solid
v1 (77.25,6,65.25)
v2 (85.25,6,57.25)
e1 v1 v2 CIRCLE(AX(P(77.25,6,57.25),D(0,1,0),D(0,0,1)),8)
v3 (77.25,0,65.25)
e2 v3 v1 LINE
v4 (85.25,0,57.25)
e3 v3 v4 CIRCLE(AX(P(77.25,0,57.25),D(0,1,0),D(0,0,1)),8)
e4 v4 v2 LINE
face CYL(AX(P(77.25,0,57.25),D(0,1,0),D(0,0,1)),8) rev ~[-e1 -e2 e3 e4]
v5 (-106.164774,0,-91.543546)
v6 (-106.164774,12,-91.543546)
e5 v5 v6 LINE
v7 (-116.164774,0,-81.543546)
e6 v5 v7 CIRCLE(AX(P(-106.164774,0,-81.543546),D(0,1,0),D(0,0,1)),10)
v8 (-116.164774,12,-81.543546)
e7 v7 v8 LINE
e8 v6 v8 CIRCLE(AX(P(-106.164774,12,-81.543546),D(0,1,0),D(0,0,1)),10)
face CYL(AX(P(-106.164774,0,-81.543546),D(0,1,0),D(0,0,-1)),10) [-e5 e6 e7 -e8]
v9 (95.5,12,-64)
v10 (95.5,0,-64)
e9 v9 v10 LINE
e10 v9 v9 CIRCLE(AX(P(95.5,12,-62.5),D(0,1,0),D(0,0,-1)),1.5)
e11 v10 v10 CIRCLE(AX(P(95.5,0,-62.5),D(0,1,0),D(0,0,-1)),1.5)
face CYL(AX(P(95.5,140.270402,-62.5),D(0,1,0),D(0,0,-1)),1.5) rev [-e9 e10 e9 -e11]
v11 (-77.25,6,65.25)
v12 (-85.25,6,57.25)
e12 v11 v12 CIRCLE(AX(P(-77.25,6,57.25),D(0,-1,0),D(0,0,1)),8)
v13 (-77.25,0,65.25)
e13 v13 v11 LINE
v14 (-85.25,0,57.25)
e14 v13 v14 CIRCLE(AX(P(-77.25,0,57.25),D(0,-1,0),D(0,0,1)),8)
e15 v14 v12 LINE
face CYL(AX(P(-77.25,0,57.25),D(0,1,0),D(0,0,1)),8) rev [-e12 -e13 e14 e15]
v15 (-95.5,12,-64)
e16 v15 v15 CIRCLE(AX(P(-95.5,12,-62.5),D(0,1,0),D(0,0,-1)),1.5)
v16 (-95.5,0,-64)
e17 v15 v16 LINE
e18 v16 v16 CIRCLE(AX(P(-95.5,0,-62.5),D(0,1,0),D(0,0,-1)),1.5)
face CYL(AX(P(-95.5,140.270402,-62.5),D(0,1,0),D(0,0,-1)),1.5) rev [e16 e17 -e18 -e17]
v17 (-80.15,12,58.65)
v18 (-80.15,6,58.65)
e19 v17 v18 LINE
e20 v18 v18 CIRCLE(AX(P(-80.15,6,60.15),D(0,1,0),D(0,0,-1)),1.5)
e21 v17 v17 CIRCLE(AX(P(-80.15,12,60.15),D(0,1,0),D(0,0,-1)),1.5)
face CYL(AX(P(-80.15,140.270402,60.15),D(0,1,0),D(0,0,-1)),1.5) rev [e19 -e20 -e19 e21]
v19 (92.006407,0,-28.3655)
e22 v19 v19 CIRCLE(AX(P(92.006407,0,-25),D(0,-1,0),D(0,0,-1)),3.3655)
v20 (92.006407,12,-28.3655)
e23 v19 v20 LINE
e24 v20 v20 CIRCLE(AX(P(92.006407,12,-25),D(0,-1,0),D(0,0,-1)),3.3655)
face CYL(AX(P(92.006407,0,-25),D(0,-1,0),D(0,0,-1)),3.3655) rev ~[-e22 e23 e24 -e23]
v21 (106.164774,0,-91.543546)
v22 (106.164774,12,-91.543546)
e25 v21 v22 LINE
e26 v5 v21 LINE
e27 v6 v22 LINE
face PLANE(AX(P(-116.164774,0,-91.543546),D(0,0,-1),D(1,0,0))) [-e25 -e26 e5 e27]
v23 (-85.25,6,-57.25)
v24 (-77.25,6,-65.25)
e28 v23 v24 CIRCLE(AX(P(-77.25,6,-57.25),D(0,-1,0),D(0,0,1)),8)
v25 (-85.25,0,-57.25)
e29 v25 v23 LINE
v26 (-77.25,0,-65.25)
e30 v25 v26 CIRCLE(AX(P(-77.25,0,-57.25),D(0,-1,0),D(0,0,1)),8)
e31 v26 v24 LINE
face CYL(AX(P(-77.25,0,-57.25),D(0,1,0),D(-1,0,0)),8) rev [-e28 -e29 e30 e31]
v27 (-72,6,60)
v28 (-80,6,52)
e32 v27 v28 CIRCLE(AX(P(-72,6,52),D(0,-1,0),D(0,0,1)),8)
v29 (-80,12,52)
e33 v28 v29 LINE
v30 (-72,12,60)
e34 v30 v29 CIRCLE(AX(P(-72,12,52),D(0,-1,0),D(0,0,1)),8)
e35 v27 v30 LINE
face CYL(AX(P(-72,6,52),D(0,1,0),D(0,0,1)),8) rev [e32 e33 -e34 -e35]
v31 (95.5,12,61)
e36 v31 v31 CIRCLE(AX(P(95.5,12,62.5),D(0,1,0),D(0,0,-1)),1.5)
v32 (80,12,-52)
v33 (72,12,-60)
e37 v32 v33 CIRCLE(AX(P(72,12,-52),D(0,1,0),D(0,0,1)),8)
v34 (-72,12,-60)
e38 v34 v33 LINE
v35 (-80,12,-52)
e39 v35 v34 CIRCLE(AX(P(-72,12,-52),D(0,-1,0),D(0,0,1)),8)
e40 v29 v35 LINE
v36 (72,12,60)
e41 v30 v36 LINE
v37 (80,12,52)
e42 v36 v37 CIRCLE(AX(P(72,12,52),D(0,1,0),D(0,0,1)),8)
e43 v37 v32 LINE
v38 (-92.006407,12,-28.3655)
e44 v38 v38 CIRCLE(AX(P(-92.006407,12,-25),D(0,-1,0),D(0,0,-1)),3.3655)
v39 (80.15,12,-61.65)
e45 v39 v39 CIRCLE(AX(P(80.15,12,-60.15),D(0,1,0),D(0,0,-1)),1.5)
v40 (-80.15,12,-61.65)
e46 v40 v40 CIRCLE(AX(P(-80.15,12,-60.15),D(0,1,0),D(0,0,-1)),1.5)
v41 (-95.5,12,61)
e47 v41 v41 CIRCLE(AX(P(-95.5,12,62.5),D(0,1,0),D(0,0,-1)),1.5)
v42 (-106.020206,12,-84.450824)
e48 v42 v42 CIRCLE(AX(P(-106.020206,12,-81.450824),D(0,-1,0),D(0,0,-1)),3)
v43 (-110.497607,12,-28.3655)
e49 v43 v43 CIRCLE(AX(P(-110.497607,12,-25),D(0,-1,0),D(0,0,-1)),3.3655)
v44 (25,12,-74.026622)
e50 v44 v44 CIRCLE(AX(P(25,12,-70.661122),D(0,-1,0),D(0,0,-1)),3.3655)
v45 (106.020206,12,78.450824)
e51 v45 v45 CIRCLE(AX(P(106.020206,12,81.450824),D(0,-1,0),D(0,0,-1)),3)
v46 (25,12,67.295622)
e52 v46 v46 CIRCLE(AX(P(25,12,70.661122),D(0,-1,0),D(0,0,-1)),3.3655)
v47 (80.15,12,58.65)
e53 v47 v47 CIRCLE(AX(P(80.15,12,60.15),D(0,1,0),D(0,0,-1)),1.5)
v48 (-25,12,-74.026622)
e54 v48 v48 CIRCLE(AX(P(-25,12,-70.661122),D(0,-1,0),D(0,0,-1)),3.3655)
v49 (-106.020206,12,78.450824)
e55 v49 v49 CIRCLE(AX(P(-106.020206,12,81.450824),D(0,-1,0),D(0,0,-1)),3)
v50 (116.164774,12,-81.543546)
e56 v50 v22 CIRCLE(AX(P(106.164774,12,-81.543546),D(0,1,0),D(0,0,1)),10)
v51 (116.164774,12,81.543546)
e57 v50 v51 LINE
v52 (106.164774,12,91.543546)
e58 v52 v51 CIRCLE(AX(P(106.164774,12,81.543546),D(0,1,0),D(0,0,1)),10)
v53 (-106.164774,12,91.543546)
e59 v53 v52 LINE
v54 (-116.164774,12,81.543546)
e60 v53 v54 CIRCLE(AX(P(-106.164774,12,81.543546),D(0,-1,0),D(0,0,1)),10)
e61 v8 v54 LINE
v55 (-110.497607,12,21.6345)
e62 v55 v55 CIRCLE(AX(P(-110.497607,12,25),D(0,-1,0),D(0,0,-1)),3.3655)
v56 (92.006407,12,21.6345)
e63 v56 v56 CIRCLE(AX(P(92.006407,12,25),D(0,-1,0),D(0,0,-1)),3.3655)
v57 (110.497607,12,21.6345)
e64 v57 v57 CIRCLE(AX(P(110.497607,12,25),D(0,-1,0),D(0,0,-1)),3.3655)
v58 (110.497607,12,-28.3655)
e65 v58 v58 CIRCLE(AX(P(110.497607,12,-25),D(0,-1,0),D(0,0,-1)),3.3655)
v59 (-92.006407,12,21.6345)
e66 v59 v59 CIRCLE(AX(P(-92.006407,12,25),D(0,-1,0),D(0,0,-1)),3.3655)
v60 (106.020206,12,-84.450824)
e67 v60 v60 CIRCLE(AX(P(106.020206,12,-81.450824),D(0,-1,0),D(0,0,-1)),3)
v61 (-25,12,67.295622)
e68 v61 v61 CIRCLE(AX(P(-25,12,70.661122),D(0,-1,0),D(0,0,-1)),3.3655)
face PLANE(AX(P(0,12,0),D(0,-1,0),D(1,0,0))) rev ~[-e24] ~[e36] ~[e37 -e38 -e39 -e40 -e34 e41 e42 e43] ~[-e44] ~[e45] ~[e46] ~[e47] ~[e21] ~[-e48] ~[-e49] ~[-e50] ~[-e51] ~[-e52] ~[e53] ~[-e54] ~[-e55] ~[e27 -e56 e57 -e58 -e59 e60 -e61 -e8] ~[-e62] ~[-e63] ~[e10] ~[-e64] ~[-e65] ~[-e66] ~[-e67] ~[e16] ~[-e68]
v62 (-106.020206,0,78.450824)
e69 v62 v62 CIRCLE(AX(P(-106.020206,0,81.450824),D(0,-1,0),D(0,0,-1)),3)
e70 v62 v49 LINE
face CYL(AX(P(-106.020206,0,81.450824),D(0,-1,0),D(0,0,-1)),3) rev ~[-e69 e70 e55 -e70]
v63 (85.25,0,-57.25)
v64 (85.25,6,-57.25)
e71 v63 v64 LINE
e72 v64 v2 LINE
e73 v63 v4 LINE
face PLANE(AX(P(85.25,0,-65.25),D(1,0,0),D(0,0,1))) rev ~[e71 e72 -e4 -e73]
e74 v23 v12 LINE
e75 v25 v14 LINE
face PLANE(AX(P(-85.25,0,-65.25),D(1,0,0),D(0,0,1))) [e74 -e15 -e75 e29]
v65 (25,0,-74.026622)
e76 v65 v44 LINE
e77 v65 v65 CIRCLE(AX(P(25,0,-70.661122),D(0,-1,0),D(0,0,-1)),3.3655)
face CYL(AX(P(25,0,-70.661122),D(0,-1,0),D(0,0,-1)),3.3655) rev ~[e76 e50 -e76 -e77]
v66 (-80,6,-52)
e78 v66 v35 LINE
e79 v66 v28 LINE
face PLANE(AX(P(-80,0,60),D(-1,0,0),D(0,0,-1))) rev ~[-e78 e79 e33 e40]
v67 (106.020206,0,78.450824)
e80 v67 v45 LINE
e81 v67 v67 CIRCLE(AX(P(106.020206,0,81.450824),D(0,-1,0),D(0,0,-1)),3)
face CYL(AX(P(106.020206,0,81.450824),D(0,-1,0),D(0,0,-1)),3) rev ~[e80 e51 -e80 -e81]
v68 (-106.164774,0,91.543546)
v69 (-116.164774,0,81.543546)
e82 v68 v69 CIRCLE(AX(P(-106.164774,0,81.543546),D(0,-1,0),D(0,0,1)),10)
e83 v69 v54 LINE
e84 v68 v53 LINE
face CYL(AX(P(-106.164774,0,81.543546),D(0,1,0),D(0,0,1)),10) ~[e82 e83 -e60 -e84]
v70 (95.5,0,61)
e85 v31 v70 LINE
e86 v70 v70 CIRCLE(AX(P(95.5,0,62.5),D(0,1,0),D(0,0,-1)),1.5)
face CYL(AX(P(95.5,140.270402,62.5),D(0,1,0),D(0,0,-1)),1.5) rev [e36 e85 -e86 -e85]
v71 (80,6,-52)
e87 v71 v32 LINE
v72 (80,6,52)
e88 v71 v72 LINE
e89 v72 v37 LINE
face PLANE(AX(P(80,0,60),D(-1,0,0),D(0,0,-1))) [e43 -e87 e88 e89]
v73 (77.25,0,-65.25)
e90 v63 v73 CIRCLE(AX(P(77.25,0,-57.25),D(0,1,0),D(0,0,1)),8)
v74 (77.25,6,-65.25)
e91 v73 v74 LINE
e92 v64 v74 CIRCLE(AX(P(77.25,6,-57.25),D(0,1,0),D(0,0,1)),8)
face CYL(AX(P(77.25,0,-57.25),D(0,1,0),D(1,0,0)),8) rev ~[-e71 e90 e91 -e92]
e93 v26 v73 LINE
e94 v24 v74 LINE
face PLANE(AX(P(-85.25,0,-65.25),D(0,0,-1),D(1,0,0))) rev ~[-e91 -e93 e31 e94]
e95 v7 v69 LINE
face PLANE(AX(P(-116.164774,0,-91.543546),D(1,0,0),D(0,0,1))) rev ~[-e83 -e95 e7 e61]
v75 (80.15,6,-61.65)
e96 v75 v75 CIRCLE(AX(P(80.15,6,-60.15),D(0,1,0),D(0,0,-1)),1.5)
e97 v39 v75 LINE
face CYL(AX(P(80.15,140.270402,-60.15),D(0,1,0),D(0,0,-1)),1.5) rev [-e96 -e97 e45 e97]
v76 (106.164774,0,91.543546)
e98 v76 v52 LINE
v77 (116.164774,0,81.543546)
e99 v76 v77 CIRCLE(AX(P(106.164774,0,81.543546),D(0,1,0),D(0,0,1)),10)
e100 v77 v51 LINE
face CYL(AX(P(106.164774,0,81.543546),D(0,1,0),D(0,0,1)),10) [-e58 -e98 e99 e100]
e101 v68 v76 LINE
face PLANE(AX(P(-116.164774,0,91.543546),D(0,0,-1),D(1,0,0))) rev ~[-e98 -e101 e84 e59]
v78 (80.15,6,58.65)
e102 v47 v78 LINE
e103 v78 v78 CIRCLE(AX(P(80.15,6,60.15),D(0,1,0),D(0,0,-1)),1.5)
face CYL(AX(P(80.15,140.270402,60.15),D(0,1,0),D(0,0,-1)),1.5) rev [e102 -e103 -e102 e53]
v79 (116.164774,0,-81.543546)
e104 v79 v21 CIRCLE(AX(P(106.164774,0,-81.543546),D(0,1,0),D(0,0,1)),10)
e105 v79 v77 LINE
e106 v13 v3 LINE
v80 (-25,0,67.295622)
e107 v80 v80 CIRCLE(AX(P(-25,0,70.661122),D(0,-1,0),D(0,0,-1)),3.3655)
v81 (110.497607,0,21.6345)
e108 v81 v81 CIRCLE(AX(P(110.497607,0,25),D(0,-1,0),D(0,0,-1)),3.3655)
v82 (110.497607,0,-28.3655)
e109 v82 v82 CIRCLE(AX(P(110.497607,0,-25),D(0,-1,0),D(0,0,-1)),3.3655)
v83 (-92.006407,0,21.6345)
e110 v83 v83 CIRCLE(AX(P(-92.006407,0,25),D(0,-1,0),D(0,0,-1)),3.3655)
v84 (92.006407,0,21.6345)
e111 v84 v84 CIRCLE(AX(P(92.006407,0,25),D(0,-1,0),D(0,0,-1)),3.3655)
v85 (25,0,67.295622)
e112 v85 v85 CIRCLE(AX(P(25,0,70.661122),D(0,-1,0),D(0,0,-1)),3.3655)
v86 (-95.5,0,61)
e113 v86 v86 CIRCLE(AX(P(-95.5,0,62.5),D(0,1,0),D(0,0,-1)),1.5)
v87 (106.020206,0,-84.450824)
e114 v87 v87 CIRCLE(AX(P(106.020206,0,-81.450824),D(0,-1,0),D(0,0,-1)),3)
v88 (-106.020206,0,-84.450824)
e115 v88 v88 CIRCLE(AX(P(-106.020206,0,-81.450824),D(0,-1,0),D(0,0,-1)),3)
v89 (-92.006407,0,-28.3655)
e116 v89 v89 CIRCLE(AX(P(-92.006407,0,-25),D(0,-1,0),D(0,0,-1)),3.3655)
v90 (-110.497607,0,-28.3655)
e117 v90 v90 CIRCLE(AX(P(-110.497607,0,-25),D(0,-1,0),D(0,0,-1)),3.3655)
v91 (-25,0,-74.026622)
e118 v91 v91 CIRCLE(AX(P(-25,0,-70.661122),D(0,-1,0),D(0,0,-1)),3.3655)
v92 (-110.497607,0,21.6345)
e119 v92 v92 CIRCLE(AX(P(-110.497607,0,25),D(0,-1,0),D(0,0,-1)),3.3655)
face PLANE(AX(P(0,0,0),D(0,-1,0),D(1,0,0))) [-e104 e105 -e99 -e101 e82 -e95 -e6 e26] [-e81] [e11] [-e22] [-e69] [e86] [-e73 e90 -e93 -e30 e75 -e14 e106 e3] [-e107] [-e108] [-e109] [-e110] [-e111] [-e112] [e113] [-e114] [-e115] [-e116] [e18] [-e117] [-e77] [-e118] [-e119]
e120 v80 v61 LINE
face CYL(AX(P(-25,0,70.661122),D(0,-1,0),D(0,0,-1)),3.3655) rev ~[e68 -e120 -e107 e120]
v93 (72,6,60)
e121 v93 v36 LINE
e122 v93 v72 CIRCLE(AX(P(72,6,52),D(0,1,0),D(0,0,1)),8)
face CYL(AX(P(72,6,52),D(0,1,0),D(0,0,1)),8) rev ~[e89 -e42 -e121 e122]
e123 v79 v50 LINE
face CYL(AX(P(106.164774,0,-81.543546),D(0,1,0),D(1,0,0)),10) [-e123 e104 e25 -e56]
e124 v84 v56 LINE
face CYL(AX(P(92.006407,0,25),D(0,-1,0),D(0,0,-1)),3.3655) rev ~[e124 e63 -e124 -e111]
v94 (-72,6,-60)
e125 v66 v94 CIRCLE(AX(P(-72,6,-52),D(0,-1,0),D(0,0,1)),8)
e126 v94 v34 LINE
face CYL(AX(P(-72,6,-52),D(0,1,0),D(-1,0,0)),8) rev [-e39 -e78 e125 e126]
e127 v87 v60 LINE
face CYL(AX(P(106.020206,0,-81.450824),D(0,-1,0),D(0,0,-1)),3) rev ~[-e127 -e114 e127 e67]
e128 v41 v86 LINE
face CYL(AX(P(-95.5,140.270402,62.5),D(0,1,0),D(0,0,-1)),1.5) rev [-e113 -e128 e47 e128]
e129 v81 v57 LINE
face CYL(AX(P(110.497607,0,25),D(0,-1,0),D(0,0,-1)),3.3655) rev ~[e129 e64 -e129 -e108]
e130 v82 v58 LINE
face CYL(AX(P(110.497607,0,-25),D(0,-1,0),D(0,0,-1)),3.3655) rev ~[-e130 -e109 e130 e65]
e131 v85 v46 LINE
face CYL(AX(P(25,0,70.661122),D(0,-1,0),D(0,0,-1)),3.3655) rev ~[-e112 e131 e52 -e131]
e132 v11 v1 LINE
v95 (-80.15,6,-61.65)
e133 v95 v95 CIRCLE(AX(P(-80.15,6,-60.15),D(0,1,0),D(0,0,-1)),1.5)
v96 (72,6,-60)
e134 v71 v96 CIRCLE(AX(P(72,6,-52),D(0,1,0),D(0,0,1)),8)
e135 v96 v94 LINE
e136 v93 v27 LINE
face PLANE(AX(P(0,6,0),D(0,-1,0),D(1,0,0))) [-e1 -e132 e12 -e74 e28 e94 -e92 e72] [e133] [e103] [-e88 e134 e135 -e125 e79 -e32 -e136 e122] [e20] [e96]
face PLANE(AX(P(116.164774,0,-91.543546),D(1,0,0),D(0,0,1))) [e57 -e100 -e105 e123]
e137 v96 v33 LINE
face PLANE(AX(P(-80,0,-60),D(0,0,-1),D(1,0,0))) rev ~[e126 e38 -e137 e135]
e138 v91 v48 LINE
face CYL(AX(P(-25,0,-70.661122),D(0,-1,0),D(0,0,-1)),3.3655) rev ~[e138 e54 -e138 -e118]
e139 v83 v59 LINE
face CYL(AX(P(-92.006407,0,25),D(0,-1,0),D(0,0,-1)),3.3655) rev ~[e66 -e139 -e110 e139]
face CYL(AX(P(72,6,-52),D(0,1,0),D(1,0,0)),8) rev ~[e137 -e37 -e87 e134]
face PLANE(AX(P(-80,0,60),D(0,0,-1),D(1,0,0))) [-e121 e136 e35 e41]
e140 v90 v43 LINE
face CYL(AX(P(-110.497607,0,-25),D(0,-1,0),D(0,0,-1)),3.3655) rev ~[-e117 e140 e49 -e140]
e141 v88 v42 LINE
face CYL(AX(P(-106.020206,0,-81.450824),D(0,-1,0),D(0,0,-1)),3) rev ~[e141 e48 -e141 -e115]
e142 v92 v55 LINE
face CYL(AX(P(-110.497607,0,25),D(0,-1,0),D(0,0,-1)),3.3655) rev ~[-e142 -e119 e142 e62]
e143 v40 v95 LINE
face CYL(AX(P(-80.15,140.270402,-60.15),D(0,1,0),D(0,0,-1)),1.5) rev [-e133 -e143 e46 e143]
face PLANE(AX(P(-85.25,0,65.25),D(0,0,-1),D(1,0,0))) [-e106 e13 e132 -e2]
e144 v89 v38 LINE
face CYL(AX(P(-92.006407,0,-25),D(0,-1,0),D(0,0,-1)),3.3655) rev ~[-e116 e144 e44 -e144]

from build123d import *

# Parameters (mm, degrees)
SKETCH_2_W               = 220
SKETCH_2_H               = 150
SKETCH_2_W_2             = 160
SKETCH_2_H_2             = 120
EXTRUDE_1_DEPTH          = 12
SKETCH_3_W               = 170.5
SKETCH_3_H               = 130.5
CUT_EXTRUDE_1_DEPTH      = 6
FILLET_1_R               = 8
FILLET_2_R               = 8
FILLET_3_R               = 8
CUT_EXTRUDE_2_DEPTH      = 134.270401815
CUT_EXTRUDE_2_DEPTH_BACK = 140.270401815
CUT_EXTRUDE_2_START      = 6
SKETCH_4_R               = 1.5
SKETCH_6_W               = 241.523327546
SKETCH_6_H               = 183.41982478
SKETCH_6_W_2             = 210.674446864
SKETCH_6_H_2             = 143.430858526
EXTRUDE_2_DEPTH          = 12
SKETCH_5_R               = 3.3655
CUT_EXTRUDE_3_DEPTH      = 22
SKETCH_7_R               = 3
CUT_EXTRUDE_4_DEPTH      = 22
FILLET_4_R               = 6
FILLET_5_R               = 6
FILLET_6_R               = 6
FILLET_7_R               = 6
SKETCH_14_W              = 180
SKETCH_14_H              = 7.031256172
SKETCH_14_R              = 2
EXTRUDE_3_DEPTH          = 12
SKETCH_14_W_2            = 130
SKETCH_14_H_2            = 7
EXTRUDE_3_2_DEPTH        = 12
EXTRUDE_3_3_DEPTH        = 12
EXTRUDE_3_4_DEPTH        = 12
SKETCH_15_W              = 460.716543434
SKETCH_15_H              = 403.643057854
SKETCH_15_W_2            = 232.32954725
SKETCH_15_H_2            = 183.087092282
CUT_EXTRUDE_8_DEPTH      = 105
FILLET_8_R               = 10


with BuildPart() as part:
    # Эскиз2 → Бобышка-Вытянуть1 (new body)
    with BuildSketch(Plane(origin=(0, 0, 0), x_dir=(1, 0, 0), z_dir=(0, 1, 0))):
        Rectangle(SKETCH_2_W, SKETCH_2_H)
        Rectangle(SKETCH_2_W_2, SKETCH_2_H_2, mode=Mode.SUBTRACT)
    extrude(amount=EXTRUDE_1_DEPTH)

    # Эскиз3 → Вырез-Вытянуть1 (cut)
    with BuildSketch(Plane.XZ):
        Rectangle(SKETCH_3_W, SKETCH_3_H)
    extrude(amount=-CUT_EXTRUDE_1_DEPTH, mode=Mode.SUBTRACT)

    # Скругление1
    fillet_1_edges = [part.edges().sort_by_distance(p)[0] for p in [
        (80, 9, 60),
    ]]
    fillet(fillet_1_edges, radius=FILLET_1_R)

    # Скругление2
    fillet_2_edges = [part.edges().sort_by_distance(p)[0] for p in [
        (85.25, 3, 65.25),
    ]]
    fillet(fillet_2_edges, radius=FILLET_2_R)

    # Скругление3
    fillet_3_edges = [part.edges().sort_by_distance(p)[0] for p in [
        (80, 9, -60),
        (-80, 9, -60),
        (-80, 9, 60),
        (85.25, 3, -65.25),
        (-85.25, 3, -65.25),
        (-85.25, 3, 65.25),
    ]]
    fillet(fillet_3_edges, radius=FILLET_3_R)

    # Эскиз4 → Вырез-Вытянуть2 (cut, two sides: drawn at the far end of the back side and taken through both)
    with BuildSketch(Plane.XZ.offset(-6).offset(CUT_EXTRUDE_2_START - CUT_EXTRUDE_2_DEPTH_BACK)):
        with Locations(Location((-80.15, 60.15, 0), (0, 0, 270))):
            Circle(SKETCH_4_R)
        with Locations(Location((-80.15, -60.15, 0), (0, 0, 270))):
            Circle(SKETCH_4_R)
        with Locations(Location((80.15, -60.15, 0), (0, 0, 270))):
            Circle(SKETCH_4_R)
        with Locations(Location((80.15, 60.15, 0), (0, 0, 270))):
            Circle(SKETCH_4_R)
        with Locations(Location((-95.5, 62.5, 0), (0, 0, 270))):
            Circle(SKETCH_4_R)
        with Locations(Location((-95.5, -62.5, 0), (0, 0, 270))):
            Circle(SKETCH_4_R)
        with Locations(Location((95.5, -62.5, 0), (0, 0, 270))):
            Circle(SKETCH_4_R)
        with Locations(Location((95.5, 62.5, 0), (0, 0, 270))):
            Circle(SKETCH_4_R)
    extrude(amount=CUT_EXTRUDE_2_DEPTH + CUT_EXTRUDE_2_DEPTH_BACK, mode=Mode.SUBTRACT)

    # Эскиз6 → Бобышка-Вытянуть2 (add)
    with BuildSketch(Plane.XZ):
        Rectangle(SKETCH_6_W, SKETCH_6_H)
        Rectangle(SKETCH_6_W_2, SKETCH_6_H_2, mode=Mode.SUBTRACT)
    extrude(amount=-EXTRUDE_2_DEPTH)

    # Эскиз5 → Вырез-Вытянуть3 (cut)
    with BuildSketch(Plane.XZ):
        with Locations(Location((-92.006407499, -25, 0), (0, 0, 270))):
            Circle(SKETCH_5_R)
        with Locations(Location((-110.497607499, -25, 0), (0, 0, 270))):
            Circle(SKETCH_5_R)
        with Locations(Location((-110.497607499, 25.000000038, 0), (0, 0, 270))):
            Circle(SKETCH_5_R)
        with Locations(Location((-92.006407499, 25.000000038, 0), (0, 0, 270))):
            Circle(SKETCH_5_R)
        with Locations(Location((92.006407499, 25.000000038, 0), (0, 0, 270))):
            Circle(SKETCH_5_R)
        with Locations(Location((110.497607499, 25.000000038, 0), (0, 0, 270))):
            Circle(SKETCH_5_R)
        with Locations(Location((110.497607499, -25, 0), (0, 0, 270))):
            Circle(SKETCH_5_R)
        with Locations(Location((92.006407499, -25, 0), (0, 0, 270))):
            Circle(SKETCH_5_R)
        with Locations(Location((25, 70.661122045, 0), (0, 0, 270))):
            Circle(SKETCH_5_R)
        with Locations(Location((-25.000000038, 70.661122045, 0), (0, 0, 270))):
            Circle(SKETCH_5_R)
        with Locations(Location((-25.000000038, -70.661122045, 0), (0, 0, 270))):
            Circle(SKETCH_5_R)
        with Locations(Location((25, -70.661122045, 0), (0, 0, 270))):
            Circle(SKETCH_5_R)
    extrude(amount=-CUT_EXTRUDE_3_DEPTH, mode=Mode.SUBTRACT)

    # Эскиз7 → Вырез-Вытянуть4 (cut)
    with BuildSketch(Plane.XZ):
        with Locations(Location((-106.020205838, -81.450824183, 0), (0, 0, 270))):
            Circle(SKETCH_7_R)
        with Locations(Location((-106.020205838, 81.450824183, 0), (0, 0, 270))):
            Circle(SKETCH_7_R)
        with Locations(Location((106.020205838, 81.450824183, 0), (0, 0, 270))):
            Circle(SKETCH_7_R)
        with Locations(Location((106.020205838, -81.450824183, 0), (0, 0, 270))):
            Circle(SKETCH_7_R)
    extrude(amount=-CUT_EXTRUDE_4_DEPTH, mode=Mode.SUBTRACT)

    # Скругление4
    fillet_4_edges = [part.edges().sort_by_distance(p)[0] for p in [
        (120.761663773, 6, 91.70991239),
    ]]
    fillet(fillet_4_edges, radius=FILLET_4_R)

    # Скругление5
    fillet_5_edges = [part.edges().sort_by_distance(p)[0] for p in [
        (120.761663773, 6, -91.70991239),
    ]]
    fillet(fillet_5_edges, radius=FILLET_5_R)

    # Скругление6
    fillet_6_edges = [part.edges().sort_by_distance(p)[0] for p in [
        (-120.761663773, 6, -91.70991239),
    ]]
    fillet(fillet_6_edges, radius=FILLET_6_R)

    # Скругление7
    fillet_7_edges = [part.edges().sort_by_distance(p)[0] for p in [
        (-120.761663773, 6, 91.70991239),
    ]]
    fillet(fillet_7_edges, radius=FILLET_7_R)


with BuildPart() as body_2:
    # Эскиз14 → Бобышка-Вытянуть3 (new body)
    with BuildSketch(Plane(origin=(0, 12, 0), x_dir=(1, 0, 0), z_dir=(0, 1, 0))):
        with Locations((1.41446019, 109.44602362)):
            Rectangle(SKETCH_14_W, SKETCH_14_H)
        with Locations(Location((-81.58561634, 109.413291168, 0), (0, 0, 270))):
            Circle(SKETCH_14_R, mode=Mode.SUBTRACT)
        with Locations(Location((1.41446019, 109.413291168, 0), (0, 0, 270))):
            Circle(SKETCH_14_R, mode=Mode.SUBTRACT)
        with Locations(Location((84.41453672, 109.413291168, 0), (0, 0, 270))):
            Circle(SKETCH_14_R, mode=Mode.SUBTRACT)
    extrude(amount=-EXTRUDE_3_DEPTH)


with BuildPart() as body_3:
    # Эскиз14 → Extrude 3 2 (new body)
    with BuildSketch(Plane(origin=(0, 12, 0), x_dir=(1, 0, 0), z_dir=(0, 1, 0))):
        with Locations((-6.451217143, 118.582116541)):
            Rectangle(SKETCH_14_W_2, SKETCH_14_H_2)
        with Locations(Location((51.548782857, 118.582116541, 0), (0, 0, 270))):
            Circle(SKETCH_14_R, mode=Mode.SUBTRACT)
        with Locations(Location((-6.451217143, 118.582116541, 0), (0, 0, 270))):
            Circle(SKETCH_14_R, mode=Mode.SUBTRACT)
        with Locations(Location((-64.451217143, 118.582116541, 0), (0, 0, 270))):
            Circle(SKETCH_14_R, mode=Mode.SUBTRACT)
    extrude(amount=-EXTRUDE_3_2_DEPTH)


with BuildPart() as body_4:
    # Эскиз14 → Extrude 3 3 (new body)
    with BuildSketch(Plane(origin=(0, 12, 0), x_dir=(1, 0, 0), z_dir=(0, 1, 0))):
        with Locations((1.538593971, 129.106977772)):
            Rectangle(SKETCH_14_W, SKETCH_14_H)
        with Locations(Location((-81.461482559, 129.07424532, 0), (0, 0, 270))):
            Circle(SKETCH_14_R, mode=Mode.SUBTRACT)
        with Locations(Location((1.538593971, 129.07424532, 0), (0, 0, 270))):
            Circle(SKETCH_14_R, mode=Mode.SUBTRACT)
        with Locations(Location((84.538670501, 129.07424532, 0), (0, 0, 270))):
            Circle(SKETCH_14_R, mode=Mode.SUBTRACT)
    extrude(amount=-EXTRUDE_3_3_DEPTH)


with BuildPart() as body_5:
    # Эскиз14 → Extrude 3 4 (new body)
    with BuildSketch(Plane(origin=(0, 12, 0), x_dir=(1, 0, 0), z_dir=(0, 1, 0))):
        with Locations((-6.327083362, 138.243070693)):
            Rectangle(SKETCH_14_W_2, SKETCH_14_H_2)
        with Locations(Location((51.672916638, 138.243070693, 0), (0, 0, 270))):
            Circle(SKETCH_14_R, mode=Mode.SUBTRACT)
        with Locations(Location((-6.327083362, 138.243070693, 0), (0, 0, 270))):
            Circle(SKETCH_14_R, mode=Mode.SUBTRACT)
        with Locations(Location((-64.327083362, 138.243070693, 0), (0, 0, 270))):
            Circle(SKETCH_14_R, mode=Mode.SUBTRACT)
    extrude(amount=-EXTRUDE_3_4_DEPTH)


with BuildPart() as cut_extrude_8_tool:
    # Эскиз15 → Вырез-Вытянуть8 (new body)
    with BuildSketch(Plane.XZ):
        Rectangle(SKETCH_15_W, SKETCH_15_H)
        Rectangle(SKETCH_15_W_2, SKETCH_15_H_2, mode=Mode.SUBTRACT)
    extrude(amount=-CUT_EXTRUDE_8_DEPTH)


with BuildPart() as part_1:
    add(part.part)

    # Вырез-Вытянуть8: cut by cut_extrude_8_tool
    add(cut_extrude_8_tool.part, mode=Mode.SUBTRACT)

    # Скругление8
    fillet_8_edges = [part_1.edges().sort_by_distance(p)[0] for p in [
        (116.164773625, 6, -91.543546141),
        (-116.164773625, 6, -91.543546141),
        (-116.164773625, 6, 91.543546141),
        (116.164773625, 6, 91.543546141),
    ]]
    fillet(fillet_8_edges, radius=FILLET_8_R)


with BuildPart() as body_2_1:
    add(body_2.part)

    # Вырез-Вытянуть8: cut by cut_extrude_8_tool
    add(cut_extrude_8_tool.part, mode=Mode.SUBTRACT)


with BuildPart() as body_3_1:
    add(body_3.part)

    # Вырез-Вытянуть8: cut by cut_extrude_8_tool
    add(cut_extrude_8_tool.part, mode=Mode.SUBTRACT)


with BuildPart() as body_4_1:
    add(body_4.part)

    # Вырез-Вытянуть8: cut by cut_extrude_8_tool
    add(cut_extrude_8_tool.part, mode=Mode.SUBTRACT)


with BuildPart() as body_5_1:
    add(body_5.part)

    # Вырез-Вытянуть8: cut by cut_extrude_8_tool
    add(cut_extrude_8_tool.part, mode=Mode.SUBTRACT)


solid = part_1.part
